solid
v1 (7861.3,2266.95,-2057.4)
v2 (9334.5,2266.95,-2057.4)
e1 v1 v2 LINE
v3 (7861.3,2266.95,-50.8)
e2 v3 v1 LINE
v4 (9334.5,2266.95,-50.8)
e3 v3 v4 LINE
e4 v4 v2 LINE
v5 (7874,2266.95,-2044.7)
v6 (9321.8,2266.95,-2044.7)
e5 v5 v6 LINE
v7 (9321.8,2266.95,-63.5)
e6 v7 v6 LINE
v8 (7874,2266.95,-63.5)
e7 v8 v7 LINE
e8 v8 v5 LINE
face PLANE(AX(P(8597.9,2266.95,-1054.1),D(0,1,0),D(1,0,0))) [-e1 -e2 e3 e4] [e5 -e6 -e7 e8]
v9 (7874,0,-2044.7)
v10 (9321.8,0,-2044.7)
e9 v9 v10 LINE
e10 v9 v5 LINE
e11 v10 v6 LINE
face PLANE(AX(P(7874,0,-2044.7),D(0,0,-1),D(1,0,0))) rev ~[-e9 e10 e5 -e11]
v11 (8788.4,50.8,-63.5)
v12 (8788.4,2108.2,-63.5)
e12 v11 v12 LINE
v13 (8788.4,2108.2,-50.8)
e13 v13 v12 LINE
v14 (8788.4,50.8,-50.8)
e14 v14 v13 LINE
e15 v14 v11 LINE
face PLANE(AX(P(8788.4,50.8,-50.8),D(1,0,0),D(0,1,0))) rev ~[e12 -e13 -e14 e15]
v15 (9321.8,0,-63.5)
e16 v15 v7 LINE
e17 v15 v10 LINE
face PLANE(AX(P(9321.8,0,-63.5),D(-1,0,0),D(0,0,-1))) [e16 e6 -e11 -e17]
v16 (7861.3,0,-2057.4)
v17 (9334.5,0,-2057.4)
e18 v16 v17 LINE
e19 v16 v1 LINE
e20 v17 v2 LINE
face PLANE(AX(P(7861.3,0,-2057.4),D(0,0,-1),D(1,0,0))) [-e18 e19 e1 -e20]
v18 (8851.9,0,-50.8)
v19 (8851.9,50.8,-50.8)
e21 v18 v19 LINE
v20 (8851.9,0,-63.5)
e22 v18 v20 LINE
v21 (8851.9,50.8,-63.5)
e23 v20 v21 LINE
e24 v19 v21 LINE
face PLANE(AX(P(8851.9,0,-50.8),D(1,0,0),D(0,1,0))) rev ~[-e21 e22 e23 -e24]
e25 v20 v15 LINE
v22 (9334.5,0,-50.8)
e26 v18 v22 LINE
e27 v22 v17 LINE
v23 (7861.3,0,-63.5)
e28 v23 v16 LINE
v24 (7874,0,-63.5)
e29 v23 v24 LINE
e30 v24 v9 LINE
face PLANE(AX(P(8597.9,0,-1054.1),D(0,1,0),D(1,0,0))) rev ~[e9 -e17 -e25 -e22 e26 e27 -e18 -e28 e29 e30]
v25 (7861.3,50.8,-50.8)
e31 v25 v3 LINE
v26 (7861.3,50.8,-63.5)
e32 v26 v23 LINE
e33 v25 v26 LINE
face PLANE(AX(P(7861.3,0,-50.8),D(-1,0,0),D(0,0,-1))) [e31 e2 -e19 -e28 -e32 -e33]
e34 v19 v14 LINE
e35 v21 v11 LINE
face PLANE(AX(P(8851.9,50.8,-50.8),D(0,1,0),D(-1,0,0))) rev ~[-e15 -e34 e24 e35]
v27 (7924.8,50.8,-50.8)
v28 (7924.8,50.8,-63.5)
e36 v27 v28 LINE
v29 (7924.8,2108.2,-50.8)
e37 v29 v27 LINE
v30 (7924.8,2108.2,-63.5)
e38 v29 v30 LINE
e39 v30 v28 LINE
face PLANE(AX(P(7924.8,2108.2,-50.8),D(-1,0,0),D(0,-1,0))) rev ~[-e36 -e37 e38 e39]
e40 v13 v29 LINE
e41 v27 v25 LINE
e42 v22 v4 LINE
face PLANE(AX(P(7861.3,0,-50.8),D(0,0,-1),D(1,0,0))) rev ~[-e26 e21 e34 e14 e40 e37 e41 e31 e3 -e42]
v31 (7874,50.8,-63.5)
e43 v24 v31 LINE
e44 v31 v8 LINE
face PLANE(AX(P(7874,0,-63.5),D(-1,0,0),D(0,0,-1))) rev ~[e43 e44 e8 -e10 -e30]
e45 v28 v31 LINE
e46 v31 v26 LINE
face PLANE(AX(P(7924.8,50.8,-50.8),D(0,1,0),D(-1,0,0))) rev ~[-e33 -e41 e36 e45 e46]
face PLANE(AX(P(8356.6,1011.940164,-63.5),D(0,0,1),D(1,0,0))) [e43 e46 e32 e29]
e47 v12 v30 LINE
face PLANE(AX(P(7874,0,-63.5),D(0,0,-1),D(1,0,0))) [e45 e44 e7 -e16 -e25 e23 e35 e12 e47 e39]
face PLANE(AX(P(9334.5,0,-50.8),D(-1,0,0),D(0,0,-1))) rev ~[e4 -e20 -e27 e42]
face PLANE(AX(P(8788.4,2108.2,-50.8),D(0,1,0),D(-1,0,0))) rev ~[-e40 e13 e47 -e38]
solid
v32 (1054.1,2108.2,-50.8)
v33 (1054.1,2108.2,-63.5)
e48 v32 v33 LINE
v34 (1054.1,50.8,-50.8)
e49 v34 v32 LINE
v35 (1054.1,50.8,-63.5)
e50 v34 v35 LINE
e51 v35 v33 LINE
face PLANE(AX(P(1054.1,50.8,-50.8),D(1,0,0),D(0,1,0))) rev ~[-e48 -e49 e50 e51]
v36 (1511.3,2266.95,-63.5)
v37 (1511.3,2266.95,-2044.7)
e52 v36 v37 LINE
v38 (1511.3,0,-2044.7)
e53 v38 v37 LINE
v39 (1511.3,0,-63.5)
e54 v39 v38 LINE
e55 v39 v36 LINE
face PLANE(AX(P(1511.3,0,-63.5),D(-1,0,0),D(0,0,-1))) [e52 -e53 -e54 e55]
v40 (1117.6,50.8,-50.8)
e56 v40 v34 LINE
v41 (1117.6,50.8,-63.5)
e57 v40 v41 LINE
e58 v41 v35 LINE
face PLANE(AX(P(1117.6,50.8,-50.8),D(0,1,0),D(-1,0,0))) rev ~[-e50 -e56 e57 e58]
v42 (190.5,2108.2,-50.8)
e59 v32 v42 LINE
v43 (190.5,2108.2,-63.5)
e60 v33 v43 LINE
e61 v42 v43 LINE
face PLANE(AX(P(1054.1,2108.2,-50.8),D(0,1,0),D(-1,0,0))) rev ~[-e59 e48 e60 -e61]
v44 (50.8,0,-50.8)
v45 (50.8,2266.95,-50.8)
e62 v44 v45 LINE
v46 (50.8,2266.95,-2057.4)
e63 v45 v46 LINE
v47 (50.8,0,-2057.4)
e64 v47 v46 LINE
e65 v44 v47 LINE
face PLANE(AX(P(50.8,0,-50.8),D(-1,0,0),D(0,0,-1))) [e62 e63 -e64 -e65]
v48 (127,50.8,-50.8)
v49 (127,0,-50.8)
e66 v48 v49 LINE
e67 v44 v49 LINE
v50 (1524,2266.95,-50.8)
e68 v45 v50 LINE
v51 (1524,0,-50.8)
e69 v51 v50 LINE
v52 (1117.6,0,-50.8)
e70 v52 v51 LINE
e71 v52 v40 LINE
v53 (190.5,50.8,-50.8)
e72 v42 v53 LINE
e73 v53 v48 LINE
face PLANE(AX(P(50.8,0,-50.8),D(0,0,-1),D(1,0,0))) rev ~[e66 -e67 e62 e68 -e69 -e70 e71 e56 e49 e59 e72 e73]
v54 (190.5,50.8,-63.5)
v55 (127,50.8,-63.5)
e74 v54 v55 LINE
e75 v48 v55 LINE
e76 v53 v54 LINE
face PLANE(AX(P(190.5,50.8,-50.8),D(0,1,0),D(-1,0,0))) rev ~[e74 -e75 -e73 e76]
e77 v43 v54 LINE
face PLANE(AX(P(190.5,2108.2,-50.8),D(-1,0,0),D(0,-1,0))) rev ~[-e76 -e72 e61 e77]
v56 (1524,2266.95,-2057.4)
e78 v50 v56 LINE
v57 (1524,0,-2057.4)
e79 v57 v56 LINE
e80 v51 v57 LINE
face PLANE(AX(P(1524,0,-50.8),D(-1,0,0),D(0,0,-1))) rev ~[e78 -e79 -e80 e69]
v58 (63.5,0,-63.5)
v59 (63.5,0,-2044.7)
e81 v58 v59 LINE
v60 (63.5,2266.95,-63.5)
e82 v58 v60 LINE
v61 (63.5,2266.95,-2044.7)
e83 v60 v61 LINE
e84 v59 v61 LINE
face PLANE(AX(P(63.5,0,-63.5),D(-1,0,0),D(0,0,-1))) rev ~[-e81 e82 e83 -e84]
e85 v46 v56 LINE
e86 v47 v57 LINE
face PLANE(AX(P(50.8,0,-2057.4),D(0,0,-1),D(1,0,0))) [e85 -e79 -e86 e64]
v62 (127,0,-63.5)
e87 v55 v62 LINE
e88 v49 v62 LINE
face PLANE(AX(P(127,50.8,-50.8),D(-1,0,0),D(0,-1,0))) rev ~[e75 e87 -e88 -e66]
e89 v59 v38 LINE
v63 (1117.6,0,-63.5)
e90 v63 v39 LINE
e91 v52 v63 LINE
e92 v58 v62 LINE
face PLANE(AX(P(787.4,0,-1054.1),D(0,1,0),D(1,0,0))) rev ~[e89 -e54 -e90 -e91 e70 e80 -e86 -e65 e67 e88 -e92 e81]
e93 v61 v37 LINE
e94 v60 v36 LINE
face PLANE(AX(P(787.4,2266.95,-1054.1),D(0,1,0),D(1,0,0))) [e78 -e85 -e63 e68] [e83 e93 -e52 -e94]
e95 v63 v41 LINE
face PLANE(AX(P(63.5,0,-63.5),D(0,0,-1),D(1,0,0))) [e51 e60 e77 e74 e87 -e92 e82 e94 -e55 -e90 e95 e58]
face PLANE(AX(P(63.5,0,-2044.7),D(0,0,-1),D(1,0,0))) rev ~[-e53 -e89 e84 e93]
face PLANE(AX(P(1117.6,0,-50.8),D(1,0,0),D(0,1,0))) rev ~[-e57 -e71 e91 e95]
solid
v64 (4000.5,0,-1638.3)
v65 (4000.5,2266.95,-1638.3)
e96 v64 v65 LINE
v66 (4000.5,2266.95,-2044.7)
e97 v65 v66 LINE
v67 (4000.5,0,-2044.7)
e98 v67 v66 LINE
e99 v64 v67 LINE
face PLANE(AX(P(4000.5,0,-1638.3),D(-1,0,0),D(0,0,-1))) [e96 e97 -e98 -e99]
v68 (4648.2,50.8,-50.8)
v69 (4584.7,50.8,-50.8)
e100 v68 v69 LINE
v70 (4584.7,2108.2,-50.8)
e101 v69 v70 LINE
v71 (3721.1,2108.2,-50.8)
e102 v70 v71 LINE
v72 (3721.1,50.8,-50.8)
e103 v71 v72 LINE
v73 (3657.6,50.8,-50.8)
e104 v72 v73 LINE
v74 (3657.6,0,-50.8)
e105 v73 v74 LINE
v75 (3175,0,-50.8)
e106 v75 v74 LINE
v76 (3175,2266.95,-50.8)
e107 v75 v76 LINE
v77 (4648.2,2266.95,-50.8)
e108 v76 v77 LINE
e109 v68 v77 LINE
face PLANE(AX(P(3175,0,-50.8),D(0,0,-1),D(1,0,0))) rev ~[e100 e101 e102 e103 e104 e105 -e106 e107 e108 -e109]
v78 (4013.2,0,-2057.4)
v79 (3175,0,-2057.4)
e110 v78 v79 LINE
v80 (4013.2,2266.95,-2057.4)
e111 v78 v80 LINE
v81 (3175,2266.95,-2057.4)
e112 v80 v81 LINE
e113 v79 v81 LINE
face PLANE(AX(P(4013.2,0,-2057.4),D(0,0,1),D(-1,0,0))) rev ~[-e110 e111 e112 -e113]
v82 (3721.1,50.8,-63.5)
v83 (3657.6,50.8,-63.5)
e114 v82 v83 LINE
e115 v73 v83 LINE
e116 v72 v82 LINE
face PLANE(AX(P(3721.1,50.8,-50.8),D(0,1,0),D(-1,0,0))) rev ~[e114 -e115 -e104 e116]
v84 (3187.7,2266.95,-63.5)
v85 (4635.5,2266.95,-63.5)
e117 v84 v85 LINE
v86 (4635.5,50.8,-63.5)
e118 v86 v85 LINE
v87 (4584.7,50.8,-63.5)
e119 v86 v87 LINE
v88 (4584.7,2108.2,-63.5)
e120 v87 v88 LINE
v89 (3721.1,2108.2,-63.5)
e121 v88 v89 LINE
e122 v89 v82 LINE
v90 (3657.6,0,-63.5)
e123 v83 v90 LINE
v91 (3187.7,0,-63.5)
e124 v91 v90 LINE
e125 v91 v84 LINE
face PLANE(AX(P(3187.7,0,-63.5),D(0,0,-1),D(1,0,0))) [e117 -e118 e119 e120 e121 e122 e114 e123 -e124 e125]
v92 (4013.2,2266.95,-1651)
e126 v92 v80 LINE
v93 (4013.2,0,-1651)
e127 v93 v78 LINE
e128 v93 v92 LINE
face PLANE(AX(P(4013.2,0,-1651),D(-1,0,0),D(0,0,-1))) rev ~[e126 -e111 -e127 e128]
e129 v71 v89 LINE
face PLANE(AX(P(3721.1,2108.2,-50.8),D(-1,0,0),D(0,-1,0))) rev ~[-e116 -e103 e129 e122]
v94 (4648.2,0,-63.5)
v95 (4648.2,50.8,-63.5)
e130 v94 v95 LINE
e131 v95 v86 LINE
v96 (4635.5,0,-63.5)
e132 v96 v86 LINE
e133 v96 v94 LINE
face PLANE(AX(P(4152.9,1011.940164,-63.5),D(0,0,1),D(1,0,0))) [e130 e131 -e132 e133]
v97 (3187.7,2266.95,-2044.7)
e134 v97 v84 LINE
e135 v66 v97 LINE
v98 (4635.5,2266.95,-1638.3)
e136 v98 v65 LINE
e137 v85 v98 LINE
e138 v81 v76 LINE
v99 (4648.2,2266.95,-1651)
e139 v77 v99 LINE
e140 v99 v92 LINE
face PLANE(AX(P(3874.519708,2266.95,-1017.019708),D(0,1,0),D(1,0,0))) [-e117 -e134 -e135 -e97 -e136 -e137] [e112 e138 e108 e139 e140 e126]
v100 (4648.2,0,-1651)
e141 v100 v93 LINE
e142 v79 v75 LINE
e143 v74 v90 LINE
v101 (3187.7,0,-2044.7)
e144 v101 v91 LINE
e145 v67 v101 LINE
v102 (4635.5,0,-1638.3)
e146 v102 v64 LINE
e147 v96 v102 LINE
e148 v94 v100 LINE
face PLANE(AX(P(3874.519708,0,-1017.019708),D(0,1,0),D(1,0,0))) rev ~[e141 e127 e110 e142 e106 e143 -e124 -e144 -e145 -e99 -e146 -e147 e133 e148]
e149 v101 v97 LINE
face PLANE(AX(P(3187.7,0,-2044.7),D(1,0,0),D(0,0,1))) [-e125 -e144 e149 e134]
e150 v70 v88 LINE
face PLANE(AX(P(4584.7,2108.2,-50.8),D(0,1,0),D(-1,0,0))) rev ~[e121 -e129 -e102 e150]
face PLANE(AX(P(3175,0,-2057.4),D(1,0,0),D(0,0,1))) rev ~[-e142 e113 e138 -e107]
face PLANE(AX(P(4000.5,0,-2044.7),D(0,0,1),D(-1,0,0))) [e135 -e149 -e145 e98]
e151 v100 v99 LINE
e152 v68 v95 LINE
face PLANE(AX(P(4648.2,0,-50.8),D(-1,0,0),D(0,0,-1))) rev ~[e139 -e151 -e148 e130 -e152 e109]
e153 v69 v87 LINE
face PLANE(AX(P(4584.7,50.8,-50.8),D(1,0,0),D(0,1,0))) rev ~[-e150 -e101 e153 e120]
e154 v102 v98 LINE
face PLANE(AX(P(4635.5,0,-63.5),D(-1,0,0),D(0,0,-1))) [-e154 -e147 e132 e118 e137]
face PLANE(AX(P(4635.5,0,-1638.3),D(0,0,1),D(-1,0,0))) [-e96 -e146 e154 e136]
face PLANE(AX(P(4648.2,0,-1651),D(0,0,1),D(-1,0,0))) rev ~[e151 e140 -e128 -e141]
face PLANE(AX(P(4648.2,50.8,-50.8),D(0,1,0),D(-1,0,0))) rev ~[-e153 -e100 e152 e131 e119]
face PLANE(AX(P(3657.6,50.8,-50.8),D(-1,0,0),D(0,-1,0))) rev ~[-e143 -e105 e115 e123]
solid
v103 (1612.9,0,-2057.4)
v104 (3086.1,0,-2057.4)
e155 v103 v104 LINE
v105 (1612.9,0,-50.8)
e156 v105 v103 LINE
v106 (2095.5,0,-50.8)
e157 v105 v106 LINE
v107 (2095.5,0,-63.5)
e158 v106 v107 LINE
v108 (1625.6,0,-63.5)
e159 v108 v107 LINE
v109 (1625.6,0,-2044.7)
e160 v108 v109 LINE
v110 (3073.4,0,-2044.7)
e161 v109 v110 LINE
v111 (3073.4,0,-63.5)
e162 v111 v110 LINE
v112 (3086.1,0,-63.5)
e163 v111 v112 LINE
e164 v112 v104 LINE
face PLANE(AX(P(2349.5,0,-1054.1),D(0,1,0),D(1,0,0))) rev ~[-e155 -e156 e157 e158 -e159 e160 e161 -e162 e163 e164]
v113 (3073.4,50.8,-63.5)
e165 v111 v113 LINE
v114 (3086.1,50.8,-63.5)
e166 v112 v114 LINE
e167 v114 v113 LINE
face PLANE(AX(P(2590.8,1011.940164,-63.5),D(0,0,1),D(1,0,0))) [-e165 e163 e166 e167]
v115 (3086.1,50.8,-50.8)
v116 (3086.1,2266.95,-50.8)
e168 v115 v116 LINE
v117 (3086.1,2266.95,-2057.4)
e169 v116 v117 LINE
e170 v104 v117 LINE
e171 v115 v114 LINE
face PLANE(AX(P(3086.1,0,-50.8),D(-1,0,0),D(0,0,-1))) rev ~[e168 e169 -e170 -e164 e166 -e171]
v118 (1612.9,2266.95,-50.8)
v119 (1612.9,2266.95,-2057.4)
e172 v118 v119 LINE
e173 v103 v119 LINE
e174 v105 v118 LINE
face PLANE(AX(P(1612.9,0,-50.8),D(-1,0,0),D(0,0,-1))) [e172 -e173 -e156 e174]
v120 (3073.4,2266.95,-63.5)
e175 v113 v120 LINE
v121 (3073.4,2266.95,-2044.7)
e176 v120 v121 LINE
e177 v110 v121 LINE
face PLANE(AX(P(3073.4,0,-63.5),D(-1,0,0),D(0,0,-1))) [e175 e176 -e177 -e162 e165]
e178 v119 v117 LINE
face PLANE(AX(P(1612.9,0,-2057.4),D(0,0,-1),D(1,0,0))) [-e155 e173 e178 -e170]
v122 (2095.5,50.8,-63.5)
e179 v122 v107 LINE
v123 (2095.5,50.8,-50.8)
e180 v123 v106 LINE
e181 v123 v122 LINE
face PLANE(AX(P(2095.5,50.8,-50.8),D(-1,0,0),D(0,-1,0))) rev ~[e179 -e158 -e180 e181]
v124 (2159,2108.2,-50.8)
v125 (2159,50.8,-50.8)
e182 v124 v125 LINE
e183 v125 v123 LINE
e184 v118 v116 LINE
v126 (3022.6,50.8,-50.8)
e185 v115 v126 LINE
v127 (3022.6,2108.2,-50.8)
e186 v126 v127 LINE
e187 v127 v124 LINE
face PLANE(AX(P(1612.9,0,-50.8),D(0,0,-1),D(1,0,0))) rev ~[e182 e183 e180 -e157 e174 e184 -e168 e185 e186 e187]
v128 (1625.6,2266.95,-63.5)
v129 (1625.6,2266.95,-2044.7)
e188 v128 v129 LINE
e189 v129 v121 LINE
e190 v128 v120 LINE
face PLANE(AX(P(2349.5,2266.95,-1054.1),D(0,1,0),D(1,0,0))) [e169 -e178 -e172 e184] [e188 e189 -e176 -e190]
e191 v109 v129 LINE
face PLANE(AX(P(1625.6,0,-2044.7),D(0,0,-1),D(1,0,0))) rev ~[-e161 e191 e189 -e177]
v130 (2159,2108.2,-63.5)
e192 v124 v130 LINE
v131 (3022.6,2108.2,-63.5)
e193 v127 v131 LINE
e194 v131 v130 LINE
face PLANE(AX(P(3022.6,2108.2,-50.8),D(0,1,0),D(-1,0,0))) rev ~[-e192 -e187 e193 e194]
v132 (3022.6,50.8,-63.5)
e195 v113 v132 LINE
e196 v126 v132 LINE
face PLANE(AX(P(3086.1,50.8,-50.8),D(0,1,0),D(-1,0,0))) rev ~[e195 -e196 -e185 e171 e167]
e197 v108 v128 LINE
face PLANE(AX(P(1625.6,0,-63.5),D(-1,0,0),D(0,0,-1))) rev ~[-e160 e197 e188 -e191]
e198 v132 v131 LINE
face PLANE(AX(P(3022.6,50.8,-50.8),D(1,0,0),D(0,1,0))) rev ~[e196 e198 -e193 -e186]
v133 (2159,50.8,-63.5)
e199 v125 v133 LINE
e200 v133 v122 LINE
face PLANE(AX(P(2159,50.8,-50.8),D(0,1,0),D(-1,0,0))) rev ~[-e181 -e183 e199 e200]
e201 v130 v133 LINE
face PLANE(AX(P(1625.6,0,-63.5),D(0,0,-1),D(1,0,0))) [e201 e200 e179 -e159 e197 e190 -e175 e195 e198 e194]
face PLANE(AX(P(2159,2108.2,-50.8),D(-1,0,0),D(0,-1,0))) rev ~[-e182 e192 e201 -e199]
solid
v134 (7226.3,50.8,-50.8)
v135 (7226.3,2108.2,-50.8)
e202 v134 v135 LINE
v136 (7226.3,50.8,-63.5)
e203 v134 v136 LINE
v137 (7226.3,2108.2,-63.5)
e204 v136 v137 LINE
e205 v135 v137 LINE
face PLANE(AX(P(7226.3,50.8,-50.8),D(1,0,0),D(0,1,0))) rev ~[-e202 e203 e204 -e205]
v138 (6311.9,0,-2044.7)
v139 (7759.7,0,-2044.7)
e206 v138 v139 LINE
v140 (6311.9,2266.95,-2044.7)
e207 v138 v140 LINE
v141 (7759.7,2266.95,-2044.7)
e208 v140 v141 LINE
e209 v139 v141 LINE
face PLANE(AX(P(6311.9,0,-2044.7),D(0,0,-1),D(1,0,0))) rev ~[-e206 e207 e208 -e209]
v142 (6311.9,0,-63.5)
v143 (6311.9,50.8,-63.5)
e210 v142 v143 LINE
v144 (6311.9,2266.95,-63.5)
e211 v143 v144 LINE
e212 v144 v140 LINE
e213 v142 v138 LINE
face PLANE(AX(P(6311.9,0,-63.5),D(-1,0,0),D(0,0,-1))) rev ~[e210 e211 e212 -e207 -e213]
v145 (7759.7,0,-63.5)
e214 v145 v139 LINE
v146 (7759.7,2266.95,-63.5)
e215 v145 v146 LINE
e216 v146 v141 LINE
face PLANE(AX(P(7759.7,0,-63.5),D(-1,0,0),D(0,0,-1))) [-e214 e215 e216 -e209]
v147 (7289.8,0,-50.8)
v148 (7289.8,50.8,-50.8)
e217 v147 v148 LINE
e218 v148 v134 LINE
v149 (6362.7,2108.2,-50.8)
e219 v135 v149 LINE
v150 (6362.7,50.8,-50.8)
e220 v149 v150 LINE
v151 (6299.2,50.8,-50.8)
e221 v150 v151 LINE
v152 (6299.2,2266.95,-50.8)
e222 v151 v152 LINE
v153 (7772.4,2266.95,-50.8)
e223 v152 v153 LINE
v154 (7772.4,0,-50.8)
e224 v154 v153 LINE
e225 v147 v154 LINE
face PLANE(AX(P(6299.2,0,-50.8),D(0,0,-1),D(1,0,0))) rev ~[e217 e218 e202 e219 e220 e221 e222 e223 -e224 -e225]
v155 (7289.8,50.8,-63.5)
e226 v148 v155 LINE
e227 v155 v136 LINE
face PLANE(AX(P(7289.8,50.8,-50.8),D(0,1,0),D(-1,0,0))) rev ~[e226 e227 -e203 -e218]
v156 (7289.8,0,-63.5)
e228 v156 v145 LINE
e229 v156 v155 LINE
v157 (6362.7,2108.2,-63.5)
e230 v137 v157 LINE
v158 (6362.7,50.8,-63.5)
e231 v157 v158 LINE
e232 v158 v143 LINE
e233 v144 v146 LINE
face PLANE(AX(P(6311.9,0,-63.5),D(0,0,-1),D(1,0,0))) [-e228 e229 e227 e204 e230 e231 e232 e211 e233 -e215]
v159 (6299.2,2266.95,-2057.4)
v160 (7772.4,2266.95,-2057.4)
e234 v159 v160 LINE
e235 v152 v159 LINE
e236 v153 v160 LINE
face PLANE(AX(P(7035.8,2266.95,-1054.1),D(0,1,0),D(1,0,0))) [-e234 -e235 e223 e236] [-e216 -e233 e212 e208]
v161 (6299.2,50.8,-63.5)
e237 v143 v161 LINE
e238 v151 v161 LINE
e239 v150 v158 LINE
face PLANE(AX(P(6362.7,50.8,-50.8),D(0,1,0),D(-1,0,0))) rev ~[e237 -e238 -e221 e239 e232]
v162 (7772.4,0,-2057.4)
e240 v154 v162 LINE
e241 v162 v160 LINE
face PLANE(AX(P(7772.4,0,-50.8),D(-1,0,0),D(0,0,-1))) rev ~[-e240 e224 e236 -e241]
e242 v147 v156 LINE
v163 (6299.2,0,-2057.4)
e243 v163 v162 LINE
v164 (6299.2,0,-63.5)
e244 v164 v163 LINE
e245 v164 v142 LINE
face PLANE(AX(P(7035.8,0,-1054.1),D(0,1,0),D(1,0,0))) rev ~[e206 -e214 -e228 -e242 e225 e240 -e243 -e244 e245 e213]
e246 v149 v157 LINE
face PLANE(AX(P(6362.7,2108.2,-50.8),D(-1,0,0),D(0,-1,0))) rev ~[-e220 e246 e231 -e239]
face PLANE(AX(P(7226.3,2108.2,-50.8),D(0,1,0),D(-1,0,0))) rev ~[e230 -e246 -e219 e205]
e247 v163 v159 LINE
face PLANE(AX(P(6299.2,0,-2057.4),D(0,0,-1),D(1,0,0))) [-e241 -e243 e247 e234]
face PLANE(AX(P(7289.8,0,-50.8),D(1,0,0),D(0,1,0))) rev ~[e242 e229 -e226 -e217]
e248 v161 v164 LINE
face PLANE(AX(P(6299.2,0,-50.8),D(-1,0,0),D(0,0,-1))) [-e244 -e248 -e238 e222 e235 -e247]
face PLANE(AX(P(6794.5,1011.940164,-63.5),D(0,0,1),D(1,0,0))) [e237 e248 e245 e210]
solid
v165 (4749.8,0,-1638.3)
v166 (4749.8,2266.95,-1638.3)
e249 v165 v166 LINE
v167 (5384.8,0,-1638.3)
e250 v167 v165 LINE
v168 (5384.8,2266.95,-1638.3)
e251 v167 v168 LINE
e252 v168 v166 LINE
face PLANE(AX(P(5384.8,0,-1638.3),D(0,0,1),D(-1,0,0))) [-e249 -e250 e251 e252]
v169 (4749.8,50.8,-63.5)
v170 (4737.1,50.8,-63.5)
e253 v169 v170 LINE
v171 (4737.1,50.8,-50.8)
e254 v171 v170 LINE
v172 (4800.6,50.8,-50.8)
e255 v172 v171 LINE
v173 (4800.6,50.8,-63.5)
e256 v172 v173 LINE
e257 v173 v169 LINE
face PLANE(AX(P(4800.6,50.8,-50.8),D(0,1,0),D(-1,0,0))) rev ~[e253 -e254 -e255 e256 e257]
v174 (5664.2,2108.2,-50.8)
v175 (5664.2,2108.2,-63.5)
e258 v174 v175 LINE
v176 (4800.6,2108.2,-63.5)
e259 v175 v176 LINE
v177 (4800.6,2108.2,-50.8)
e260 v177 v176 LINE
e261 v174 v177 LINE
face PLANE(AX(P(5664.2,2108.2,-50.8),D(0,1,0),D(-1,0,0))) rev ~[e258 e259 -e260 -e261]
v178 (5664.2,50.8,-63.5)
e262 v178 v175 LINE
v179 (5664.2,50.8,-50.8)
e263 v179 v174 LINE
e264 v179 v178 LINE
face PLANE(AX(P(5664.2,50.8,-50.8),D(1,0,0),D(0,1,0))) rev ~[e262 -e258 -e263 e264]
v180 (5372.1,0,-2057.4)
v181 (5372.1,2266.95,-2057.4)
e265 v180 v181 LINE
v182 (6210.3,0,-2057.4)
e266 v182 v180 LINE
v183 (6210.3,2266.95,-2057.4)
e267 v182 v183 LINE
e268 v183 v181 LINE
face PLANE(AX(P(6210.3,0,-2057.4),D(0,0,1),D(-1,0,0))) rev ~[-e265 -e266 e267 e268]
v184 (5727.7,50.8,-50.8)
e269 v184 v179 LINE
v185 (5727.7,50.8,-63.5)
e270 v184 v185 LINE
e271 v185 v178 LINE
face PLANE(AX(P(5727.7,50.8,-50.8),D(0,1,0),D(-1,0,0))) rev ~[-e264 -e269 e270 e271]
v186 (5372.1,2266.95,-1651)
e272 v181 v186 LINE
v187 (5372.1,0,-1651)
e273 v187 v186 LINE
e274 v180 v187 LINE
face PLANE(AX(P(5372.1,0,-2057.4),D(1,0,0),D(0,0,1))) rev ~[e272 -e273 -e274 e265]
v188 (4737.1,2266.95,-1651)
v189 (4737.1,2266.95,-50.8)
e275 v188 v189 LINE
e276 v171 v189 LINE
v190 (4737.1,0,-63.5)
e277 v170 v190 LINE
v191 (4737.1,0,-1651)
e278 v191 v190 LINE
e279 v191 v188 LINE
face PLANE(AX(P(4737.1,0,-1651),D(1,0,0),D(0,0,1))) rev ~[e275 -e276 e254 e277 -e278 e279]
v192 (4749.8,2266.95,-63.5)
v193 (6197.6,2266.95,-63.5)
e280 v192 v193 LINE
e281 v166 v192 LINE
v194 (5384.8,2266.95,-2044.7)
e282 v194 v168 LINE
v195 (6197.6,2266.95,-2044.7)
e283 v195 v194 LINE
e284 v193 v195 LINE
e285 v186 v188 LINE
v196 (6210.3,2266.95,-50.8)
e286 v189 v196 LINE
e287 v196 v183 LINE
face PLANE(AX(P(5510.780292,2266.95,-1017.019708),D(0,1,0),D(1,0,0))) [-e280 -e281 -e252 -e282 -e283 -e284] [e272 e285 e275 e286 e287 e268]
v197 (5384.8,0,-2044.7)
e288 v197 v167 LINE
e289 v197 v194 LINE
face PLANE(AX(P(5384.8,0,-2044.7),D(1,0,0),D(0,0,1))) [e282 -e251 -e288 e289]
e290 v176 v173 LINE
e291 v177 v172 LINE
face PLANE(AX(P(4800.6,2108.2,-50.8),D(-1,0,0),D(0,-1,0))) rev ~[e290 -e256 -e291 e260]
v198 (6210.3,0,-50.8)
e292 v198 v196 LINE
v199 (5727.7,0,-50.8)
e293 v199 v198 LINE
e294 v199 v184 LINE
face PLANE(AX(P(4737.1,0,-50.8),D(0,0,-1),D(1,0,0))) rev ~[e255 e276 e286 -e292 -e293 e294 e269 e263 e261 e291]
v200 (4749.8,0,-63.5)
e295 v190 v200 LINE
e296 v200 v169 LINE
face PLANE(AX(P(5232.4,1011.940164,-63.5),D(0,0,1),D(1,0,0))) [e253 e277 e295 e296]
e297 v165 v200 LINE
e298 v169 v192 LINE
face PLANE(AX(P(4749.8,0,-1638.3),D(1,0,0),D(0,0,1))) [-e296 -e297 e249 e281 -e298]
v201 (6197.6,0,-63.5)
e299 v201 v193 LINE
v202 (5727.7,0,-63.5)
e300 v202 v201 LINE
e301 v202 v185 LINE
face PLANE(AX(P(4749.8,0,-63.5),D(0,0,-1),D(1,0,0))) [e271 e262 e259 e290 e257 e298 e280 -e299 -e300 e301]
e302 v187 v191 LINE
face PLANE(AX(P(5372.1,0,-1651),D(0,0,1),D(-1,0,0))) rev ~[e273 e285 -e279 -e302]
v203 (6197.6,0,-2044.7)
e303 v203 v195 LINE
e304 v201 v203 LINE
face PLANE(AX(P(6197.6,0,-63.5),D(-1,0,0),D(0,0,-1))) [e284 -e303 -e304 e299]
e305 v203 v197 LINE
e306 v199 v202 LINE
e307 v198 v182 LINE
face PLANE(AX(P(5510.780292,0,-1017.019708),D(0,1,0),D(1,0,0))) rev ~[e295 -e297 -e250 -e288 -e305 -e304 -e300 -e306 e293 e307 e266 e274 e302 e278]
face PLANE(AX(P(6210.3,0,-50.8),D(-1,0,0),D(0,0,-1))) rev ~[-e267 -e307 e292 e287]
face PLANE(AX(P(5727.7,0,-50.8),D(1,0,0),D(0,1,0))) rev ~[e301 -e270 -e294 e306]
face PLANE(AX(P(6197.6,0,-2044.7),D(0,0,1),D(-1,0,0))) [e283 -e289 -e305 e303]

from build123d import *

# Parameters (mm, degrees)
SKETCH2_W             = 1473.2
SKETCH2_H             = 2006.6
SKETCH2_W_2           = 1447.8
SKETCH2_H_2           = 1981.2
BOSS_EXTRUDE1_DEPTH   = 2266.95
BOSS_EXTRUDE1_2_DEPTH = 2266.95
BOSS_EXTRUDE1_3_DEPTH = 2266.95
BOSS_EXTRUDE1_4_DEPTH = 2266.95
BOSS_EXTRUDE1_5_DEPTH = 2266.95
BOSS_EXTRUDE1_6_DEPTH = 2266.95
CUT_EXTRUDE1_DEPTH    = 12.7


with BuildPart() as part:
    # Sketch2 → Boss-Extrude1 (new body)
    with BuildSketch(Plane(origin=(0, 0, 0), x_dir=(1, 0, 0), z_dir=(0, 1, 0))):
        with Locations((2349.5, 1054.1)):
            Rectangle(SKETCH2_W, SKETCH2_H)
        with Locations((2349.5, 1054.1)):
            Rectangle(SKETCH2_W_2, SKETCH2_H_2, mode=Mode.SUBTRACT)
    extrude(amount=BOSS_EXTRUDE1_DEPTH)


with BuildPart() as body_2:
    # Sketch2 → Boss-Extrude1 2 (new body)
    with BuildSketch(Plane(origin=(0, 0, 0), x_dir=(1, 0, 0), z_dir=(0, 1, 0))):
        Polygon((4013.2, 1651), (4013.2, 2057.4), (3175, 2057.4), (3175, 50.8), (4648.2, 50.8), (4648.2, 1651), align=None)
        Polygon((3187.7, 63.5), (4635.5, 63.5), (4635.5, 1638.3), (4000.5, 1638.3), (4000.5, 2044.7), (3187.7, 2044.7), align=None, mode=Mode.SUBTRACT)
    extrude(amount=BOSS_EXTRUDE1_2_DEPTH)


with BuildPart() as body_3:
    # Sketch2 → Boss-Extrude1 3 (new body)
    with BuildSketch(Plane(origin=(0, 0, 0), x_dir=(1, 0, 0), z_dir=(0, 1, 0))):
        with Locations((787.4, 1054.1)):
            Rectangle(SKETCH2_W, SKETCH2_H)
        with Locations((787.4, 1054.1)):
            Rectangle(SKETCH2_W_2, SKETCH2_H_2, mode=Mode.SUBTRACT)
    extrude(amount=BOSS_EXTRUDE1_3_DEPTH)


with BuildPart() as body_4:
    # Sketch2 → Boss-Extrude1 4 (new body)
    with BuildSketch(Plane(origin=(0, 0, 0), x_dir=(1, 0, 0), z_dir=(0, 1, 0))):
        with Locations((7035.8, 1054.1)):
            Rectangle(SKETCH2_W, SKETCH2_H)
        with Locations((7035.8, 1054.1)):
            Rectangle(SKETCH2_W_2, SKETCH2_H_2, mode=Mode.SUBTRACT)
    extrude(amount=BOSS_EXTRUDE1_4_DEPTH)


with BuildPart() as body_5:
    # Sketch2 → Boss-Extrude1 5 (new body)
    with BuildSketch(Plane(origin=(0, 0, 0), x_dir=(1, 0, 0), z_dir=(0, 1, 0))):
        Polygon((5372.1, 2057.4), (5372.1, 1651), (4737.1, 1651), (4737.1, 50.8), (6210.3, 50.8), (6210.3, 2057.4), align=None)
        Polygon((5384.8, 1638.3), (4749.8, 1638.3), (4749.8, 63.5), (6197.6, 63.5), (6197.6, 2044.7), (5384.8, 2044.7), align=None, mode=Mode.SUBTRACT)
    extrude(amount=BOSS_EXTRUDE1_5_DEPTH)


with BuildPart() as body_6:
    # Sketch2 → Boss-Extrude1 6 (new body)
    with BuildSketch(Plane(origin=(0, 0, 0), x_dir=(1, 0, 0), z_dir=(0, 1, 0))):
        with Locations((8597.9, 1054.1)):
            Rectangle(SKETCH2_W, SKETCH2_H)
        with Locations((8597.9, 1054.1)):
            Rectangle(SKETCH2_W_2, SKETCH2_H_2, mode=Mode.SUBTRACT)
    extrude(amount=BOSS_EXTRUDE1_6_DEPTH)


with BuildPart() as cut_extrude1_tool:
    # Sketch3 → Cut-Extrude1 (new body)
    with BuildSketch(Plane.XY.offset(-50.8)):
        Polygon((127, 0), (1117.6, 0), (1117.6, 50.8), (1054.1, 50.8), (1054.1, 2108.2), (190.5, 2108.2), (190.5, 50.8), (127, 50.8), align=None)
        Polygon((2095.5, 0), (3086.1, 0), (3086.1, 50.8), (3022.6, 50.8), (3022.6, 2108.2), (2159, 2108.2), (2159, 50.8), (2095.5, 50.8), align=None)
        Polygon((3657.6, 50.8), (3657.6, 0), (4648.2, 0), (4648.2, 50.8), (4584.7, 50.8), (4584.7, 2108.2), (3721.1, 2108.2), (3721.1, 50.8), align=None)
        Polygon((4800.6, 50.8), (4737.1, 50.8), (4737.1, 0), (5727.7, 0), (5727.7, 50.8), (5664.2, 50.8), (5664.2, 2108.2), (4800.6, 2108.2), align=None)
        Polygon((6299.2, 50.8), (6299.2, 0), (7289.8, 0), (7289.8, 50.8), (7226.3, 50.8), (7226.3, 2108.2), (6362.7, 2108.2), (6362.7, 50.8), align=None)
        Polygon((7861.3, 50.8), (7861.3, 0), (8851.9, 0), (8851.9, 50.8), (8788.4, 50.8), (8788.4, 2108.2), (7924.8, 2108.2), (7924.8, 50.8), align=None)
    extrude(amount=-CUT_EXTRUDE1_DEPTH)


with BuildPart() as part_1:
    add(part.part)

    # Cut-Extrude1: cut by cut_extrude1_tool
    add(cut_extrude1_tool.part, mode=Mode.SUBTRACT)


with BuildPart() as body_2_1:
    add(body_2.part)

    # Cut-Extrude1: cut by cut_extrude1_tool
    add(cut_extrude1_tool.part, mode=Mode.SUBTRACT)


with BuildPart() as body_3_1:
    add(body_3.part)

    # Cut-Extrude1: cut by cut_extrude1_tool
    add(cut_extrude1_tool.part, mode=Mode.SUBTRACT)


with BuildPart() as body_4_1:
    add(body_4.part)

    # Cut-Extrude1: cut by cut_extrude1_tool
    add(cut_extrude1_tool.part, mode=Mode.SUBTRACT)


with BuildPart() as body_5_1:
    add(body_5.part)

    # Cut-Extrude1: cut by cut_extrude1_tool
    add(cut_extrude1_tool.part, mode=Mode.SUBTRACT)


with BuildPart() as body_6_1:
    add(body_6.part)

    # Cut-Extrude1: cut by cut_extrude1_tool
    add(cut_extrude1_tool.part, mode=Mode.SUBTRACT)


solid = Compound([part_1.part, body_2_1.part, body_3_1.part, body_4_1.part, body_5_1.part, body_6_1.part])
